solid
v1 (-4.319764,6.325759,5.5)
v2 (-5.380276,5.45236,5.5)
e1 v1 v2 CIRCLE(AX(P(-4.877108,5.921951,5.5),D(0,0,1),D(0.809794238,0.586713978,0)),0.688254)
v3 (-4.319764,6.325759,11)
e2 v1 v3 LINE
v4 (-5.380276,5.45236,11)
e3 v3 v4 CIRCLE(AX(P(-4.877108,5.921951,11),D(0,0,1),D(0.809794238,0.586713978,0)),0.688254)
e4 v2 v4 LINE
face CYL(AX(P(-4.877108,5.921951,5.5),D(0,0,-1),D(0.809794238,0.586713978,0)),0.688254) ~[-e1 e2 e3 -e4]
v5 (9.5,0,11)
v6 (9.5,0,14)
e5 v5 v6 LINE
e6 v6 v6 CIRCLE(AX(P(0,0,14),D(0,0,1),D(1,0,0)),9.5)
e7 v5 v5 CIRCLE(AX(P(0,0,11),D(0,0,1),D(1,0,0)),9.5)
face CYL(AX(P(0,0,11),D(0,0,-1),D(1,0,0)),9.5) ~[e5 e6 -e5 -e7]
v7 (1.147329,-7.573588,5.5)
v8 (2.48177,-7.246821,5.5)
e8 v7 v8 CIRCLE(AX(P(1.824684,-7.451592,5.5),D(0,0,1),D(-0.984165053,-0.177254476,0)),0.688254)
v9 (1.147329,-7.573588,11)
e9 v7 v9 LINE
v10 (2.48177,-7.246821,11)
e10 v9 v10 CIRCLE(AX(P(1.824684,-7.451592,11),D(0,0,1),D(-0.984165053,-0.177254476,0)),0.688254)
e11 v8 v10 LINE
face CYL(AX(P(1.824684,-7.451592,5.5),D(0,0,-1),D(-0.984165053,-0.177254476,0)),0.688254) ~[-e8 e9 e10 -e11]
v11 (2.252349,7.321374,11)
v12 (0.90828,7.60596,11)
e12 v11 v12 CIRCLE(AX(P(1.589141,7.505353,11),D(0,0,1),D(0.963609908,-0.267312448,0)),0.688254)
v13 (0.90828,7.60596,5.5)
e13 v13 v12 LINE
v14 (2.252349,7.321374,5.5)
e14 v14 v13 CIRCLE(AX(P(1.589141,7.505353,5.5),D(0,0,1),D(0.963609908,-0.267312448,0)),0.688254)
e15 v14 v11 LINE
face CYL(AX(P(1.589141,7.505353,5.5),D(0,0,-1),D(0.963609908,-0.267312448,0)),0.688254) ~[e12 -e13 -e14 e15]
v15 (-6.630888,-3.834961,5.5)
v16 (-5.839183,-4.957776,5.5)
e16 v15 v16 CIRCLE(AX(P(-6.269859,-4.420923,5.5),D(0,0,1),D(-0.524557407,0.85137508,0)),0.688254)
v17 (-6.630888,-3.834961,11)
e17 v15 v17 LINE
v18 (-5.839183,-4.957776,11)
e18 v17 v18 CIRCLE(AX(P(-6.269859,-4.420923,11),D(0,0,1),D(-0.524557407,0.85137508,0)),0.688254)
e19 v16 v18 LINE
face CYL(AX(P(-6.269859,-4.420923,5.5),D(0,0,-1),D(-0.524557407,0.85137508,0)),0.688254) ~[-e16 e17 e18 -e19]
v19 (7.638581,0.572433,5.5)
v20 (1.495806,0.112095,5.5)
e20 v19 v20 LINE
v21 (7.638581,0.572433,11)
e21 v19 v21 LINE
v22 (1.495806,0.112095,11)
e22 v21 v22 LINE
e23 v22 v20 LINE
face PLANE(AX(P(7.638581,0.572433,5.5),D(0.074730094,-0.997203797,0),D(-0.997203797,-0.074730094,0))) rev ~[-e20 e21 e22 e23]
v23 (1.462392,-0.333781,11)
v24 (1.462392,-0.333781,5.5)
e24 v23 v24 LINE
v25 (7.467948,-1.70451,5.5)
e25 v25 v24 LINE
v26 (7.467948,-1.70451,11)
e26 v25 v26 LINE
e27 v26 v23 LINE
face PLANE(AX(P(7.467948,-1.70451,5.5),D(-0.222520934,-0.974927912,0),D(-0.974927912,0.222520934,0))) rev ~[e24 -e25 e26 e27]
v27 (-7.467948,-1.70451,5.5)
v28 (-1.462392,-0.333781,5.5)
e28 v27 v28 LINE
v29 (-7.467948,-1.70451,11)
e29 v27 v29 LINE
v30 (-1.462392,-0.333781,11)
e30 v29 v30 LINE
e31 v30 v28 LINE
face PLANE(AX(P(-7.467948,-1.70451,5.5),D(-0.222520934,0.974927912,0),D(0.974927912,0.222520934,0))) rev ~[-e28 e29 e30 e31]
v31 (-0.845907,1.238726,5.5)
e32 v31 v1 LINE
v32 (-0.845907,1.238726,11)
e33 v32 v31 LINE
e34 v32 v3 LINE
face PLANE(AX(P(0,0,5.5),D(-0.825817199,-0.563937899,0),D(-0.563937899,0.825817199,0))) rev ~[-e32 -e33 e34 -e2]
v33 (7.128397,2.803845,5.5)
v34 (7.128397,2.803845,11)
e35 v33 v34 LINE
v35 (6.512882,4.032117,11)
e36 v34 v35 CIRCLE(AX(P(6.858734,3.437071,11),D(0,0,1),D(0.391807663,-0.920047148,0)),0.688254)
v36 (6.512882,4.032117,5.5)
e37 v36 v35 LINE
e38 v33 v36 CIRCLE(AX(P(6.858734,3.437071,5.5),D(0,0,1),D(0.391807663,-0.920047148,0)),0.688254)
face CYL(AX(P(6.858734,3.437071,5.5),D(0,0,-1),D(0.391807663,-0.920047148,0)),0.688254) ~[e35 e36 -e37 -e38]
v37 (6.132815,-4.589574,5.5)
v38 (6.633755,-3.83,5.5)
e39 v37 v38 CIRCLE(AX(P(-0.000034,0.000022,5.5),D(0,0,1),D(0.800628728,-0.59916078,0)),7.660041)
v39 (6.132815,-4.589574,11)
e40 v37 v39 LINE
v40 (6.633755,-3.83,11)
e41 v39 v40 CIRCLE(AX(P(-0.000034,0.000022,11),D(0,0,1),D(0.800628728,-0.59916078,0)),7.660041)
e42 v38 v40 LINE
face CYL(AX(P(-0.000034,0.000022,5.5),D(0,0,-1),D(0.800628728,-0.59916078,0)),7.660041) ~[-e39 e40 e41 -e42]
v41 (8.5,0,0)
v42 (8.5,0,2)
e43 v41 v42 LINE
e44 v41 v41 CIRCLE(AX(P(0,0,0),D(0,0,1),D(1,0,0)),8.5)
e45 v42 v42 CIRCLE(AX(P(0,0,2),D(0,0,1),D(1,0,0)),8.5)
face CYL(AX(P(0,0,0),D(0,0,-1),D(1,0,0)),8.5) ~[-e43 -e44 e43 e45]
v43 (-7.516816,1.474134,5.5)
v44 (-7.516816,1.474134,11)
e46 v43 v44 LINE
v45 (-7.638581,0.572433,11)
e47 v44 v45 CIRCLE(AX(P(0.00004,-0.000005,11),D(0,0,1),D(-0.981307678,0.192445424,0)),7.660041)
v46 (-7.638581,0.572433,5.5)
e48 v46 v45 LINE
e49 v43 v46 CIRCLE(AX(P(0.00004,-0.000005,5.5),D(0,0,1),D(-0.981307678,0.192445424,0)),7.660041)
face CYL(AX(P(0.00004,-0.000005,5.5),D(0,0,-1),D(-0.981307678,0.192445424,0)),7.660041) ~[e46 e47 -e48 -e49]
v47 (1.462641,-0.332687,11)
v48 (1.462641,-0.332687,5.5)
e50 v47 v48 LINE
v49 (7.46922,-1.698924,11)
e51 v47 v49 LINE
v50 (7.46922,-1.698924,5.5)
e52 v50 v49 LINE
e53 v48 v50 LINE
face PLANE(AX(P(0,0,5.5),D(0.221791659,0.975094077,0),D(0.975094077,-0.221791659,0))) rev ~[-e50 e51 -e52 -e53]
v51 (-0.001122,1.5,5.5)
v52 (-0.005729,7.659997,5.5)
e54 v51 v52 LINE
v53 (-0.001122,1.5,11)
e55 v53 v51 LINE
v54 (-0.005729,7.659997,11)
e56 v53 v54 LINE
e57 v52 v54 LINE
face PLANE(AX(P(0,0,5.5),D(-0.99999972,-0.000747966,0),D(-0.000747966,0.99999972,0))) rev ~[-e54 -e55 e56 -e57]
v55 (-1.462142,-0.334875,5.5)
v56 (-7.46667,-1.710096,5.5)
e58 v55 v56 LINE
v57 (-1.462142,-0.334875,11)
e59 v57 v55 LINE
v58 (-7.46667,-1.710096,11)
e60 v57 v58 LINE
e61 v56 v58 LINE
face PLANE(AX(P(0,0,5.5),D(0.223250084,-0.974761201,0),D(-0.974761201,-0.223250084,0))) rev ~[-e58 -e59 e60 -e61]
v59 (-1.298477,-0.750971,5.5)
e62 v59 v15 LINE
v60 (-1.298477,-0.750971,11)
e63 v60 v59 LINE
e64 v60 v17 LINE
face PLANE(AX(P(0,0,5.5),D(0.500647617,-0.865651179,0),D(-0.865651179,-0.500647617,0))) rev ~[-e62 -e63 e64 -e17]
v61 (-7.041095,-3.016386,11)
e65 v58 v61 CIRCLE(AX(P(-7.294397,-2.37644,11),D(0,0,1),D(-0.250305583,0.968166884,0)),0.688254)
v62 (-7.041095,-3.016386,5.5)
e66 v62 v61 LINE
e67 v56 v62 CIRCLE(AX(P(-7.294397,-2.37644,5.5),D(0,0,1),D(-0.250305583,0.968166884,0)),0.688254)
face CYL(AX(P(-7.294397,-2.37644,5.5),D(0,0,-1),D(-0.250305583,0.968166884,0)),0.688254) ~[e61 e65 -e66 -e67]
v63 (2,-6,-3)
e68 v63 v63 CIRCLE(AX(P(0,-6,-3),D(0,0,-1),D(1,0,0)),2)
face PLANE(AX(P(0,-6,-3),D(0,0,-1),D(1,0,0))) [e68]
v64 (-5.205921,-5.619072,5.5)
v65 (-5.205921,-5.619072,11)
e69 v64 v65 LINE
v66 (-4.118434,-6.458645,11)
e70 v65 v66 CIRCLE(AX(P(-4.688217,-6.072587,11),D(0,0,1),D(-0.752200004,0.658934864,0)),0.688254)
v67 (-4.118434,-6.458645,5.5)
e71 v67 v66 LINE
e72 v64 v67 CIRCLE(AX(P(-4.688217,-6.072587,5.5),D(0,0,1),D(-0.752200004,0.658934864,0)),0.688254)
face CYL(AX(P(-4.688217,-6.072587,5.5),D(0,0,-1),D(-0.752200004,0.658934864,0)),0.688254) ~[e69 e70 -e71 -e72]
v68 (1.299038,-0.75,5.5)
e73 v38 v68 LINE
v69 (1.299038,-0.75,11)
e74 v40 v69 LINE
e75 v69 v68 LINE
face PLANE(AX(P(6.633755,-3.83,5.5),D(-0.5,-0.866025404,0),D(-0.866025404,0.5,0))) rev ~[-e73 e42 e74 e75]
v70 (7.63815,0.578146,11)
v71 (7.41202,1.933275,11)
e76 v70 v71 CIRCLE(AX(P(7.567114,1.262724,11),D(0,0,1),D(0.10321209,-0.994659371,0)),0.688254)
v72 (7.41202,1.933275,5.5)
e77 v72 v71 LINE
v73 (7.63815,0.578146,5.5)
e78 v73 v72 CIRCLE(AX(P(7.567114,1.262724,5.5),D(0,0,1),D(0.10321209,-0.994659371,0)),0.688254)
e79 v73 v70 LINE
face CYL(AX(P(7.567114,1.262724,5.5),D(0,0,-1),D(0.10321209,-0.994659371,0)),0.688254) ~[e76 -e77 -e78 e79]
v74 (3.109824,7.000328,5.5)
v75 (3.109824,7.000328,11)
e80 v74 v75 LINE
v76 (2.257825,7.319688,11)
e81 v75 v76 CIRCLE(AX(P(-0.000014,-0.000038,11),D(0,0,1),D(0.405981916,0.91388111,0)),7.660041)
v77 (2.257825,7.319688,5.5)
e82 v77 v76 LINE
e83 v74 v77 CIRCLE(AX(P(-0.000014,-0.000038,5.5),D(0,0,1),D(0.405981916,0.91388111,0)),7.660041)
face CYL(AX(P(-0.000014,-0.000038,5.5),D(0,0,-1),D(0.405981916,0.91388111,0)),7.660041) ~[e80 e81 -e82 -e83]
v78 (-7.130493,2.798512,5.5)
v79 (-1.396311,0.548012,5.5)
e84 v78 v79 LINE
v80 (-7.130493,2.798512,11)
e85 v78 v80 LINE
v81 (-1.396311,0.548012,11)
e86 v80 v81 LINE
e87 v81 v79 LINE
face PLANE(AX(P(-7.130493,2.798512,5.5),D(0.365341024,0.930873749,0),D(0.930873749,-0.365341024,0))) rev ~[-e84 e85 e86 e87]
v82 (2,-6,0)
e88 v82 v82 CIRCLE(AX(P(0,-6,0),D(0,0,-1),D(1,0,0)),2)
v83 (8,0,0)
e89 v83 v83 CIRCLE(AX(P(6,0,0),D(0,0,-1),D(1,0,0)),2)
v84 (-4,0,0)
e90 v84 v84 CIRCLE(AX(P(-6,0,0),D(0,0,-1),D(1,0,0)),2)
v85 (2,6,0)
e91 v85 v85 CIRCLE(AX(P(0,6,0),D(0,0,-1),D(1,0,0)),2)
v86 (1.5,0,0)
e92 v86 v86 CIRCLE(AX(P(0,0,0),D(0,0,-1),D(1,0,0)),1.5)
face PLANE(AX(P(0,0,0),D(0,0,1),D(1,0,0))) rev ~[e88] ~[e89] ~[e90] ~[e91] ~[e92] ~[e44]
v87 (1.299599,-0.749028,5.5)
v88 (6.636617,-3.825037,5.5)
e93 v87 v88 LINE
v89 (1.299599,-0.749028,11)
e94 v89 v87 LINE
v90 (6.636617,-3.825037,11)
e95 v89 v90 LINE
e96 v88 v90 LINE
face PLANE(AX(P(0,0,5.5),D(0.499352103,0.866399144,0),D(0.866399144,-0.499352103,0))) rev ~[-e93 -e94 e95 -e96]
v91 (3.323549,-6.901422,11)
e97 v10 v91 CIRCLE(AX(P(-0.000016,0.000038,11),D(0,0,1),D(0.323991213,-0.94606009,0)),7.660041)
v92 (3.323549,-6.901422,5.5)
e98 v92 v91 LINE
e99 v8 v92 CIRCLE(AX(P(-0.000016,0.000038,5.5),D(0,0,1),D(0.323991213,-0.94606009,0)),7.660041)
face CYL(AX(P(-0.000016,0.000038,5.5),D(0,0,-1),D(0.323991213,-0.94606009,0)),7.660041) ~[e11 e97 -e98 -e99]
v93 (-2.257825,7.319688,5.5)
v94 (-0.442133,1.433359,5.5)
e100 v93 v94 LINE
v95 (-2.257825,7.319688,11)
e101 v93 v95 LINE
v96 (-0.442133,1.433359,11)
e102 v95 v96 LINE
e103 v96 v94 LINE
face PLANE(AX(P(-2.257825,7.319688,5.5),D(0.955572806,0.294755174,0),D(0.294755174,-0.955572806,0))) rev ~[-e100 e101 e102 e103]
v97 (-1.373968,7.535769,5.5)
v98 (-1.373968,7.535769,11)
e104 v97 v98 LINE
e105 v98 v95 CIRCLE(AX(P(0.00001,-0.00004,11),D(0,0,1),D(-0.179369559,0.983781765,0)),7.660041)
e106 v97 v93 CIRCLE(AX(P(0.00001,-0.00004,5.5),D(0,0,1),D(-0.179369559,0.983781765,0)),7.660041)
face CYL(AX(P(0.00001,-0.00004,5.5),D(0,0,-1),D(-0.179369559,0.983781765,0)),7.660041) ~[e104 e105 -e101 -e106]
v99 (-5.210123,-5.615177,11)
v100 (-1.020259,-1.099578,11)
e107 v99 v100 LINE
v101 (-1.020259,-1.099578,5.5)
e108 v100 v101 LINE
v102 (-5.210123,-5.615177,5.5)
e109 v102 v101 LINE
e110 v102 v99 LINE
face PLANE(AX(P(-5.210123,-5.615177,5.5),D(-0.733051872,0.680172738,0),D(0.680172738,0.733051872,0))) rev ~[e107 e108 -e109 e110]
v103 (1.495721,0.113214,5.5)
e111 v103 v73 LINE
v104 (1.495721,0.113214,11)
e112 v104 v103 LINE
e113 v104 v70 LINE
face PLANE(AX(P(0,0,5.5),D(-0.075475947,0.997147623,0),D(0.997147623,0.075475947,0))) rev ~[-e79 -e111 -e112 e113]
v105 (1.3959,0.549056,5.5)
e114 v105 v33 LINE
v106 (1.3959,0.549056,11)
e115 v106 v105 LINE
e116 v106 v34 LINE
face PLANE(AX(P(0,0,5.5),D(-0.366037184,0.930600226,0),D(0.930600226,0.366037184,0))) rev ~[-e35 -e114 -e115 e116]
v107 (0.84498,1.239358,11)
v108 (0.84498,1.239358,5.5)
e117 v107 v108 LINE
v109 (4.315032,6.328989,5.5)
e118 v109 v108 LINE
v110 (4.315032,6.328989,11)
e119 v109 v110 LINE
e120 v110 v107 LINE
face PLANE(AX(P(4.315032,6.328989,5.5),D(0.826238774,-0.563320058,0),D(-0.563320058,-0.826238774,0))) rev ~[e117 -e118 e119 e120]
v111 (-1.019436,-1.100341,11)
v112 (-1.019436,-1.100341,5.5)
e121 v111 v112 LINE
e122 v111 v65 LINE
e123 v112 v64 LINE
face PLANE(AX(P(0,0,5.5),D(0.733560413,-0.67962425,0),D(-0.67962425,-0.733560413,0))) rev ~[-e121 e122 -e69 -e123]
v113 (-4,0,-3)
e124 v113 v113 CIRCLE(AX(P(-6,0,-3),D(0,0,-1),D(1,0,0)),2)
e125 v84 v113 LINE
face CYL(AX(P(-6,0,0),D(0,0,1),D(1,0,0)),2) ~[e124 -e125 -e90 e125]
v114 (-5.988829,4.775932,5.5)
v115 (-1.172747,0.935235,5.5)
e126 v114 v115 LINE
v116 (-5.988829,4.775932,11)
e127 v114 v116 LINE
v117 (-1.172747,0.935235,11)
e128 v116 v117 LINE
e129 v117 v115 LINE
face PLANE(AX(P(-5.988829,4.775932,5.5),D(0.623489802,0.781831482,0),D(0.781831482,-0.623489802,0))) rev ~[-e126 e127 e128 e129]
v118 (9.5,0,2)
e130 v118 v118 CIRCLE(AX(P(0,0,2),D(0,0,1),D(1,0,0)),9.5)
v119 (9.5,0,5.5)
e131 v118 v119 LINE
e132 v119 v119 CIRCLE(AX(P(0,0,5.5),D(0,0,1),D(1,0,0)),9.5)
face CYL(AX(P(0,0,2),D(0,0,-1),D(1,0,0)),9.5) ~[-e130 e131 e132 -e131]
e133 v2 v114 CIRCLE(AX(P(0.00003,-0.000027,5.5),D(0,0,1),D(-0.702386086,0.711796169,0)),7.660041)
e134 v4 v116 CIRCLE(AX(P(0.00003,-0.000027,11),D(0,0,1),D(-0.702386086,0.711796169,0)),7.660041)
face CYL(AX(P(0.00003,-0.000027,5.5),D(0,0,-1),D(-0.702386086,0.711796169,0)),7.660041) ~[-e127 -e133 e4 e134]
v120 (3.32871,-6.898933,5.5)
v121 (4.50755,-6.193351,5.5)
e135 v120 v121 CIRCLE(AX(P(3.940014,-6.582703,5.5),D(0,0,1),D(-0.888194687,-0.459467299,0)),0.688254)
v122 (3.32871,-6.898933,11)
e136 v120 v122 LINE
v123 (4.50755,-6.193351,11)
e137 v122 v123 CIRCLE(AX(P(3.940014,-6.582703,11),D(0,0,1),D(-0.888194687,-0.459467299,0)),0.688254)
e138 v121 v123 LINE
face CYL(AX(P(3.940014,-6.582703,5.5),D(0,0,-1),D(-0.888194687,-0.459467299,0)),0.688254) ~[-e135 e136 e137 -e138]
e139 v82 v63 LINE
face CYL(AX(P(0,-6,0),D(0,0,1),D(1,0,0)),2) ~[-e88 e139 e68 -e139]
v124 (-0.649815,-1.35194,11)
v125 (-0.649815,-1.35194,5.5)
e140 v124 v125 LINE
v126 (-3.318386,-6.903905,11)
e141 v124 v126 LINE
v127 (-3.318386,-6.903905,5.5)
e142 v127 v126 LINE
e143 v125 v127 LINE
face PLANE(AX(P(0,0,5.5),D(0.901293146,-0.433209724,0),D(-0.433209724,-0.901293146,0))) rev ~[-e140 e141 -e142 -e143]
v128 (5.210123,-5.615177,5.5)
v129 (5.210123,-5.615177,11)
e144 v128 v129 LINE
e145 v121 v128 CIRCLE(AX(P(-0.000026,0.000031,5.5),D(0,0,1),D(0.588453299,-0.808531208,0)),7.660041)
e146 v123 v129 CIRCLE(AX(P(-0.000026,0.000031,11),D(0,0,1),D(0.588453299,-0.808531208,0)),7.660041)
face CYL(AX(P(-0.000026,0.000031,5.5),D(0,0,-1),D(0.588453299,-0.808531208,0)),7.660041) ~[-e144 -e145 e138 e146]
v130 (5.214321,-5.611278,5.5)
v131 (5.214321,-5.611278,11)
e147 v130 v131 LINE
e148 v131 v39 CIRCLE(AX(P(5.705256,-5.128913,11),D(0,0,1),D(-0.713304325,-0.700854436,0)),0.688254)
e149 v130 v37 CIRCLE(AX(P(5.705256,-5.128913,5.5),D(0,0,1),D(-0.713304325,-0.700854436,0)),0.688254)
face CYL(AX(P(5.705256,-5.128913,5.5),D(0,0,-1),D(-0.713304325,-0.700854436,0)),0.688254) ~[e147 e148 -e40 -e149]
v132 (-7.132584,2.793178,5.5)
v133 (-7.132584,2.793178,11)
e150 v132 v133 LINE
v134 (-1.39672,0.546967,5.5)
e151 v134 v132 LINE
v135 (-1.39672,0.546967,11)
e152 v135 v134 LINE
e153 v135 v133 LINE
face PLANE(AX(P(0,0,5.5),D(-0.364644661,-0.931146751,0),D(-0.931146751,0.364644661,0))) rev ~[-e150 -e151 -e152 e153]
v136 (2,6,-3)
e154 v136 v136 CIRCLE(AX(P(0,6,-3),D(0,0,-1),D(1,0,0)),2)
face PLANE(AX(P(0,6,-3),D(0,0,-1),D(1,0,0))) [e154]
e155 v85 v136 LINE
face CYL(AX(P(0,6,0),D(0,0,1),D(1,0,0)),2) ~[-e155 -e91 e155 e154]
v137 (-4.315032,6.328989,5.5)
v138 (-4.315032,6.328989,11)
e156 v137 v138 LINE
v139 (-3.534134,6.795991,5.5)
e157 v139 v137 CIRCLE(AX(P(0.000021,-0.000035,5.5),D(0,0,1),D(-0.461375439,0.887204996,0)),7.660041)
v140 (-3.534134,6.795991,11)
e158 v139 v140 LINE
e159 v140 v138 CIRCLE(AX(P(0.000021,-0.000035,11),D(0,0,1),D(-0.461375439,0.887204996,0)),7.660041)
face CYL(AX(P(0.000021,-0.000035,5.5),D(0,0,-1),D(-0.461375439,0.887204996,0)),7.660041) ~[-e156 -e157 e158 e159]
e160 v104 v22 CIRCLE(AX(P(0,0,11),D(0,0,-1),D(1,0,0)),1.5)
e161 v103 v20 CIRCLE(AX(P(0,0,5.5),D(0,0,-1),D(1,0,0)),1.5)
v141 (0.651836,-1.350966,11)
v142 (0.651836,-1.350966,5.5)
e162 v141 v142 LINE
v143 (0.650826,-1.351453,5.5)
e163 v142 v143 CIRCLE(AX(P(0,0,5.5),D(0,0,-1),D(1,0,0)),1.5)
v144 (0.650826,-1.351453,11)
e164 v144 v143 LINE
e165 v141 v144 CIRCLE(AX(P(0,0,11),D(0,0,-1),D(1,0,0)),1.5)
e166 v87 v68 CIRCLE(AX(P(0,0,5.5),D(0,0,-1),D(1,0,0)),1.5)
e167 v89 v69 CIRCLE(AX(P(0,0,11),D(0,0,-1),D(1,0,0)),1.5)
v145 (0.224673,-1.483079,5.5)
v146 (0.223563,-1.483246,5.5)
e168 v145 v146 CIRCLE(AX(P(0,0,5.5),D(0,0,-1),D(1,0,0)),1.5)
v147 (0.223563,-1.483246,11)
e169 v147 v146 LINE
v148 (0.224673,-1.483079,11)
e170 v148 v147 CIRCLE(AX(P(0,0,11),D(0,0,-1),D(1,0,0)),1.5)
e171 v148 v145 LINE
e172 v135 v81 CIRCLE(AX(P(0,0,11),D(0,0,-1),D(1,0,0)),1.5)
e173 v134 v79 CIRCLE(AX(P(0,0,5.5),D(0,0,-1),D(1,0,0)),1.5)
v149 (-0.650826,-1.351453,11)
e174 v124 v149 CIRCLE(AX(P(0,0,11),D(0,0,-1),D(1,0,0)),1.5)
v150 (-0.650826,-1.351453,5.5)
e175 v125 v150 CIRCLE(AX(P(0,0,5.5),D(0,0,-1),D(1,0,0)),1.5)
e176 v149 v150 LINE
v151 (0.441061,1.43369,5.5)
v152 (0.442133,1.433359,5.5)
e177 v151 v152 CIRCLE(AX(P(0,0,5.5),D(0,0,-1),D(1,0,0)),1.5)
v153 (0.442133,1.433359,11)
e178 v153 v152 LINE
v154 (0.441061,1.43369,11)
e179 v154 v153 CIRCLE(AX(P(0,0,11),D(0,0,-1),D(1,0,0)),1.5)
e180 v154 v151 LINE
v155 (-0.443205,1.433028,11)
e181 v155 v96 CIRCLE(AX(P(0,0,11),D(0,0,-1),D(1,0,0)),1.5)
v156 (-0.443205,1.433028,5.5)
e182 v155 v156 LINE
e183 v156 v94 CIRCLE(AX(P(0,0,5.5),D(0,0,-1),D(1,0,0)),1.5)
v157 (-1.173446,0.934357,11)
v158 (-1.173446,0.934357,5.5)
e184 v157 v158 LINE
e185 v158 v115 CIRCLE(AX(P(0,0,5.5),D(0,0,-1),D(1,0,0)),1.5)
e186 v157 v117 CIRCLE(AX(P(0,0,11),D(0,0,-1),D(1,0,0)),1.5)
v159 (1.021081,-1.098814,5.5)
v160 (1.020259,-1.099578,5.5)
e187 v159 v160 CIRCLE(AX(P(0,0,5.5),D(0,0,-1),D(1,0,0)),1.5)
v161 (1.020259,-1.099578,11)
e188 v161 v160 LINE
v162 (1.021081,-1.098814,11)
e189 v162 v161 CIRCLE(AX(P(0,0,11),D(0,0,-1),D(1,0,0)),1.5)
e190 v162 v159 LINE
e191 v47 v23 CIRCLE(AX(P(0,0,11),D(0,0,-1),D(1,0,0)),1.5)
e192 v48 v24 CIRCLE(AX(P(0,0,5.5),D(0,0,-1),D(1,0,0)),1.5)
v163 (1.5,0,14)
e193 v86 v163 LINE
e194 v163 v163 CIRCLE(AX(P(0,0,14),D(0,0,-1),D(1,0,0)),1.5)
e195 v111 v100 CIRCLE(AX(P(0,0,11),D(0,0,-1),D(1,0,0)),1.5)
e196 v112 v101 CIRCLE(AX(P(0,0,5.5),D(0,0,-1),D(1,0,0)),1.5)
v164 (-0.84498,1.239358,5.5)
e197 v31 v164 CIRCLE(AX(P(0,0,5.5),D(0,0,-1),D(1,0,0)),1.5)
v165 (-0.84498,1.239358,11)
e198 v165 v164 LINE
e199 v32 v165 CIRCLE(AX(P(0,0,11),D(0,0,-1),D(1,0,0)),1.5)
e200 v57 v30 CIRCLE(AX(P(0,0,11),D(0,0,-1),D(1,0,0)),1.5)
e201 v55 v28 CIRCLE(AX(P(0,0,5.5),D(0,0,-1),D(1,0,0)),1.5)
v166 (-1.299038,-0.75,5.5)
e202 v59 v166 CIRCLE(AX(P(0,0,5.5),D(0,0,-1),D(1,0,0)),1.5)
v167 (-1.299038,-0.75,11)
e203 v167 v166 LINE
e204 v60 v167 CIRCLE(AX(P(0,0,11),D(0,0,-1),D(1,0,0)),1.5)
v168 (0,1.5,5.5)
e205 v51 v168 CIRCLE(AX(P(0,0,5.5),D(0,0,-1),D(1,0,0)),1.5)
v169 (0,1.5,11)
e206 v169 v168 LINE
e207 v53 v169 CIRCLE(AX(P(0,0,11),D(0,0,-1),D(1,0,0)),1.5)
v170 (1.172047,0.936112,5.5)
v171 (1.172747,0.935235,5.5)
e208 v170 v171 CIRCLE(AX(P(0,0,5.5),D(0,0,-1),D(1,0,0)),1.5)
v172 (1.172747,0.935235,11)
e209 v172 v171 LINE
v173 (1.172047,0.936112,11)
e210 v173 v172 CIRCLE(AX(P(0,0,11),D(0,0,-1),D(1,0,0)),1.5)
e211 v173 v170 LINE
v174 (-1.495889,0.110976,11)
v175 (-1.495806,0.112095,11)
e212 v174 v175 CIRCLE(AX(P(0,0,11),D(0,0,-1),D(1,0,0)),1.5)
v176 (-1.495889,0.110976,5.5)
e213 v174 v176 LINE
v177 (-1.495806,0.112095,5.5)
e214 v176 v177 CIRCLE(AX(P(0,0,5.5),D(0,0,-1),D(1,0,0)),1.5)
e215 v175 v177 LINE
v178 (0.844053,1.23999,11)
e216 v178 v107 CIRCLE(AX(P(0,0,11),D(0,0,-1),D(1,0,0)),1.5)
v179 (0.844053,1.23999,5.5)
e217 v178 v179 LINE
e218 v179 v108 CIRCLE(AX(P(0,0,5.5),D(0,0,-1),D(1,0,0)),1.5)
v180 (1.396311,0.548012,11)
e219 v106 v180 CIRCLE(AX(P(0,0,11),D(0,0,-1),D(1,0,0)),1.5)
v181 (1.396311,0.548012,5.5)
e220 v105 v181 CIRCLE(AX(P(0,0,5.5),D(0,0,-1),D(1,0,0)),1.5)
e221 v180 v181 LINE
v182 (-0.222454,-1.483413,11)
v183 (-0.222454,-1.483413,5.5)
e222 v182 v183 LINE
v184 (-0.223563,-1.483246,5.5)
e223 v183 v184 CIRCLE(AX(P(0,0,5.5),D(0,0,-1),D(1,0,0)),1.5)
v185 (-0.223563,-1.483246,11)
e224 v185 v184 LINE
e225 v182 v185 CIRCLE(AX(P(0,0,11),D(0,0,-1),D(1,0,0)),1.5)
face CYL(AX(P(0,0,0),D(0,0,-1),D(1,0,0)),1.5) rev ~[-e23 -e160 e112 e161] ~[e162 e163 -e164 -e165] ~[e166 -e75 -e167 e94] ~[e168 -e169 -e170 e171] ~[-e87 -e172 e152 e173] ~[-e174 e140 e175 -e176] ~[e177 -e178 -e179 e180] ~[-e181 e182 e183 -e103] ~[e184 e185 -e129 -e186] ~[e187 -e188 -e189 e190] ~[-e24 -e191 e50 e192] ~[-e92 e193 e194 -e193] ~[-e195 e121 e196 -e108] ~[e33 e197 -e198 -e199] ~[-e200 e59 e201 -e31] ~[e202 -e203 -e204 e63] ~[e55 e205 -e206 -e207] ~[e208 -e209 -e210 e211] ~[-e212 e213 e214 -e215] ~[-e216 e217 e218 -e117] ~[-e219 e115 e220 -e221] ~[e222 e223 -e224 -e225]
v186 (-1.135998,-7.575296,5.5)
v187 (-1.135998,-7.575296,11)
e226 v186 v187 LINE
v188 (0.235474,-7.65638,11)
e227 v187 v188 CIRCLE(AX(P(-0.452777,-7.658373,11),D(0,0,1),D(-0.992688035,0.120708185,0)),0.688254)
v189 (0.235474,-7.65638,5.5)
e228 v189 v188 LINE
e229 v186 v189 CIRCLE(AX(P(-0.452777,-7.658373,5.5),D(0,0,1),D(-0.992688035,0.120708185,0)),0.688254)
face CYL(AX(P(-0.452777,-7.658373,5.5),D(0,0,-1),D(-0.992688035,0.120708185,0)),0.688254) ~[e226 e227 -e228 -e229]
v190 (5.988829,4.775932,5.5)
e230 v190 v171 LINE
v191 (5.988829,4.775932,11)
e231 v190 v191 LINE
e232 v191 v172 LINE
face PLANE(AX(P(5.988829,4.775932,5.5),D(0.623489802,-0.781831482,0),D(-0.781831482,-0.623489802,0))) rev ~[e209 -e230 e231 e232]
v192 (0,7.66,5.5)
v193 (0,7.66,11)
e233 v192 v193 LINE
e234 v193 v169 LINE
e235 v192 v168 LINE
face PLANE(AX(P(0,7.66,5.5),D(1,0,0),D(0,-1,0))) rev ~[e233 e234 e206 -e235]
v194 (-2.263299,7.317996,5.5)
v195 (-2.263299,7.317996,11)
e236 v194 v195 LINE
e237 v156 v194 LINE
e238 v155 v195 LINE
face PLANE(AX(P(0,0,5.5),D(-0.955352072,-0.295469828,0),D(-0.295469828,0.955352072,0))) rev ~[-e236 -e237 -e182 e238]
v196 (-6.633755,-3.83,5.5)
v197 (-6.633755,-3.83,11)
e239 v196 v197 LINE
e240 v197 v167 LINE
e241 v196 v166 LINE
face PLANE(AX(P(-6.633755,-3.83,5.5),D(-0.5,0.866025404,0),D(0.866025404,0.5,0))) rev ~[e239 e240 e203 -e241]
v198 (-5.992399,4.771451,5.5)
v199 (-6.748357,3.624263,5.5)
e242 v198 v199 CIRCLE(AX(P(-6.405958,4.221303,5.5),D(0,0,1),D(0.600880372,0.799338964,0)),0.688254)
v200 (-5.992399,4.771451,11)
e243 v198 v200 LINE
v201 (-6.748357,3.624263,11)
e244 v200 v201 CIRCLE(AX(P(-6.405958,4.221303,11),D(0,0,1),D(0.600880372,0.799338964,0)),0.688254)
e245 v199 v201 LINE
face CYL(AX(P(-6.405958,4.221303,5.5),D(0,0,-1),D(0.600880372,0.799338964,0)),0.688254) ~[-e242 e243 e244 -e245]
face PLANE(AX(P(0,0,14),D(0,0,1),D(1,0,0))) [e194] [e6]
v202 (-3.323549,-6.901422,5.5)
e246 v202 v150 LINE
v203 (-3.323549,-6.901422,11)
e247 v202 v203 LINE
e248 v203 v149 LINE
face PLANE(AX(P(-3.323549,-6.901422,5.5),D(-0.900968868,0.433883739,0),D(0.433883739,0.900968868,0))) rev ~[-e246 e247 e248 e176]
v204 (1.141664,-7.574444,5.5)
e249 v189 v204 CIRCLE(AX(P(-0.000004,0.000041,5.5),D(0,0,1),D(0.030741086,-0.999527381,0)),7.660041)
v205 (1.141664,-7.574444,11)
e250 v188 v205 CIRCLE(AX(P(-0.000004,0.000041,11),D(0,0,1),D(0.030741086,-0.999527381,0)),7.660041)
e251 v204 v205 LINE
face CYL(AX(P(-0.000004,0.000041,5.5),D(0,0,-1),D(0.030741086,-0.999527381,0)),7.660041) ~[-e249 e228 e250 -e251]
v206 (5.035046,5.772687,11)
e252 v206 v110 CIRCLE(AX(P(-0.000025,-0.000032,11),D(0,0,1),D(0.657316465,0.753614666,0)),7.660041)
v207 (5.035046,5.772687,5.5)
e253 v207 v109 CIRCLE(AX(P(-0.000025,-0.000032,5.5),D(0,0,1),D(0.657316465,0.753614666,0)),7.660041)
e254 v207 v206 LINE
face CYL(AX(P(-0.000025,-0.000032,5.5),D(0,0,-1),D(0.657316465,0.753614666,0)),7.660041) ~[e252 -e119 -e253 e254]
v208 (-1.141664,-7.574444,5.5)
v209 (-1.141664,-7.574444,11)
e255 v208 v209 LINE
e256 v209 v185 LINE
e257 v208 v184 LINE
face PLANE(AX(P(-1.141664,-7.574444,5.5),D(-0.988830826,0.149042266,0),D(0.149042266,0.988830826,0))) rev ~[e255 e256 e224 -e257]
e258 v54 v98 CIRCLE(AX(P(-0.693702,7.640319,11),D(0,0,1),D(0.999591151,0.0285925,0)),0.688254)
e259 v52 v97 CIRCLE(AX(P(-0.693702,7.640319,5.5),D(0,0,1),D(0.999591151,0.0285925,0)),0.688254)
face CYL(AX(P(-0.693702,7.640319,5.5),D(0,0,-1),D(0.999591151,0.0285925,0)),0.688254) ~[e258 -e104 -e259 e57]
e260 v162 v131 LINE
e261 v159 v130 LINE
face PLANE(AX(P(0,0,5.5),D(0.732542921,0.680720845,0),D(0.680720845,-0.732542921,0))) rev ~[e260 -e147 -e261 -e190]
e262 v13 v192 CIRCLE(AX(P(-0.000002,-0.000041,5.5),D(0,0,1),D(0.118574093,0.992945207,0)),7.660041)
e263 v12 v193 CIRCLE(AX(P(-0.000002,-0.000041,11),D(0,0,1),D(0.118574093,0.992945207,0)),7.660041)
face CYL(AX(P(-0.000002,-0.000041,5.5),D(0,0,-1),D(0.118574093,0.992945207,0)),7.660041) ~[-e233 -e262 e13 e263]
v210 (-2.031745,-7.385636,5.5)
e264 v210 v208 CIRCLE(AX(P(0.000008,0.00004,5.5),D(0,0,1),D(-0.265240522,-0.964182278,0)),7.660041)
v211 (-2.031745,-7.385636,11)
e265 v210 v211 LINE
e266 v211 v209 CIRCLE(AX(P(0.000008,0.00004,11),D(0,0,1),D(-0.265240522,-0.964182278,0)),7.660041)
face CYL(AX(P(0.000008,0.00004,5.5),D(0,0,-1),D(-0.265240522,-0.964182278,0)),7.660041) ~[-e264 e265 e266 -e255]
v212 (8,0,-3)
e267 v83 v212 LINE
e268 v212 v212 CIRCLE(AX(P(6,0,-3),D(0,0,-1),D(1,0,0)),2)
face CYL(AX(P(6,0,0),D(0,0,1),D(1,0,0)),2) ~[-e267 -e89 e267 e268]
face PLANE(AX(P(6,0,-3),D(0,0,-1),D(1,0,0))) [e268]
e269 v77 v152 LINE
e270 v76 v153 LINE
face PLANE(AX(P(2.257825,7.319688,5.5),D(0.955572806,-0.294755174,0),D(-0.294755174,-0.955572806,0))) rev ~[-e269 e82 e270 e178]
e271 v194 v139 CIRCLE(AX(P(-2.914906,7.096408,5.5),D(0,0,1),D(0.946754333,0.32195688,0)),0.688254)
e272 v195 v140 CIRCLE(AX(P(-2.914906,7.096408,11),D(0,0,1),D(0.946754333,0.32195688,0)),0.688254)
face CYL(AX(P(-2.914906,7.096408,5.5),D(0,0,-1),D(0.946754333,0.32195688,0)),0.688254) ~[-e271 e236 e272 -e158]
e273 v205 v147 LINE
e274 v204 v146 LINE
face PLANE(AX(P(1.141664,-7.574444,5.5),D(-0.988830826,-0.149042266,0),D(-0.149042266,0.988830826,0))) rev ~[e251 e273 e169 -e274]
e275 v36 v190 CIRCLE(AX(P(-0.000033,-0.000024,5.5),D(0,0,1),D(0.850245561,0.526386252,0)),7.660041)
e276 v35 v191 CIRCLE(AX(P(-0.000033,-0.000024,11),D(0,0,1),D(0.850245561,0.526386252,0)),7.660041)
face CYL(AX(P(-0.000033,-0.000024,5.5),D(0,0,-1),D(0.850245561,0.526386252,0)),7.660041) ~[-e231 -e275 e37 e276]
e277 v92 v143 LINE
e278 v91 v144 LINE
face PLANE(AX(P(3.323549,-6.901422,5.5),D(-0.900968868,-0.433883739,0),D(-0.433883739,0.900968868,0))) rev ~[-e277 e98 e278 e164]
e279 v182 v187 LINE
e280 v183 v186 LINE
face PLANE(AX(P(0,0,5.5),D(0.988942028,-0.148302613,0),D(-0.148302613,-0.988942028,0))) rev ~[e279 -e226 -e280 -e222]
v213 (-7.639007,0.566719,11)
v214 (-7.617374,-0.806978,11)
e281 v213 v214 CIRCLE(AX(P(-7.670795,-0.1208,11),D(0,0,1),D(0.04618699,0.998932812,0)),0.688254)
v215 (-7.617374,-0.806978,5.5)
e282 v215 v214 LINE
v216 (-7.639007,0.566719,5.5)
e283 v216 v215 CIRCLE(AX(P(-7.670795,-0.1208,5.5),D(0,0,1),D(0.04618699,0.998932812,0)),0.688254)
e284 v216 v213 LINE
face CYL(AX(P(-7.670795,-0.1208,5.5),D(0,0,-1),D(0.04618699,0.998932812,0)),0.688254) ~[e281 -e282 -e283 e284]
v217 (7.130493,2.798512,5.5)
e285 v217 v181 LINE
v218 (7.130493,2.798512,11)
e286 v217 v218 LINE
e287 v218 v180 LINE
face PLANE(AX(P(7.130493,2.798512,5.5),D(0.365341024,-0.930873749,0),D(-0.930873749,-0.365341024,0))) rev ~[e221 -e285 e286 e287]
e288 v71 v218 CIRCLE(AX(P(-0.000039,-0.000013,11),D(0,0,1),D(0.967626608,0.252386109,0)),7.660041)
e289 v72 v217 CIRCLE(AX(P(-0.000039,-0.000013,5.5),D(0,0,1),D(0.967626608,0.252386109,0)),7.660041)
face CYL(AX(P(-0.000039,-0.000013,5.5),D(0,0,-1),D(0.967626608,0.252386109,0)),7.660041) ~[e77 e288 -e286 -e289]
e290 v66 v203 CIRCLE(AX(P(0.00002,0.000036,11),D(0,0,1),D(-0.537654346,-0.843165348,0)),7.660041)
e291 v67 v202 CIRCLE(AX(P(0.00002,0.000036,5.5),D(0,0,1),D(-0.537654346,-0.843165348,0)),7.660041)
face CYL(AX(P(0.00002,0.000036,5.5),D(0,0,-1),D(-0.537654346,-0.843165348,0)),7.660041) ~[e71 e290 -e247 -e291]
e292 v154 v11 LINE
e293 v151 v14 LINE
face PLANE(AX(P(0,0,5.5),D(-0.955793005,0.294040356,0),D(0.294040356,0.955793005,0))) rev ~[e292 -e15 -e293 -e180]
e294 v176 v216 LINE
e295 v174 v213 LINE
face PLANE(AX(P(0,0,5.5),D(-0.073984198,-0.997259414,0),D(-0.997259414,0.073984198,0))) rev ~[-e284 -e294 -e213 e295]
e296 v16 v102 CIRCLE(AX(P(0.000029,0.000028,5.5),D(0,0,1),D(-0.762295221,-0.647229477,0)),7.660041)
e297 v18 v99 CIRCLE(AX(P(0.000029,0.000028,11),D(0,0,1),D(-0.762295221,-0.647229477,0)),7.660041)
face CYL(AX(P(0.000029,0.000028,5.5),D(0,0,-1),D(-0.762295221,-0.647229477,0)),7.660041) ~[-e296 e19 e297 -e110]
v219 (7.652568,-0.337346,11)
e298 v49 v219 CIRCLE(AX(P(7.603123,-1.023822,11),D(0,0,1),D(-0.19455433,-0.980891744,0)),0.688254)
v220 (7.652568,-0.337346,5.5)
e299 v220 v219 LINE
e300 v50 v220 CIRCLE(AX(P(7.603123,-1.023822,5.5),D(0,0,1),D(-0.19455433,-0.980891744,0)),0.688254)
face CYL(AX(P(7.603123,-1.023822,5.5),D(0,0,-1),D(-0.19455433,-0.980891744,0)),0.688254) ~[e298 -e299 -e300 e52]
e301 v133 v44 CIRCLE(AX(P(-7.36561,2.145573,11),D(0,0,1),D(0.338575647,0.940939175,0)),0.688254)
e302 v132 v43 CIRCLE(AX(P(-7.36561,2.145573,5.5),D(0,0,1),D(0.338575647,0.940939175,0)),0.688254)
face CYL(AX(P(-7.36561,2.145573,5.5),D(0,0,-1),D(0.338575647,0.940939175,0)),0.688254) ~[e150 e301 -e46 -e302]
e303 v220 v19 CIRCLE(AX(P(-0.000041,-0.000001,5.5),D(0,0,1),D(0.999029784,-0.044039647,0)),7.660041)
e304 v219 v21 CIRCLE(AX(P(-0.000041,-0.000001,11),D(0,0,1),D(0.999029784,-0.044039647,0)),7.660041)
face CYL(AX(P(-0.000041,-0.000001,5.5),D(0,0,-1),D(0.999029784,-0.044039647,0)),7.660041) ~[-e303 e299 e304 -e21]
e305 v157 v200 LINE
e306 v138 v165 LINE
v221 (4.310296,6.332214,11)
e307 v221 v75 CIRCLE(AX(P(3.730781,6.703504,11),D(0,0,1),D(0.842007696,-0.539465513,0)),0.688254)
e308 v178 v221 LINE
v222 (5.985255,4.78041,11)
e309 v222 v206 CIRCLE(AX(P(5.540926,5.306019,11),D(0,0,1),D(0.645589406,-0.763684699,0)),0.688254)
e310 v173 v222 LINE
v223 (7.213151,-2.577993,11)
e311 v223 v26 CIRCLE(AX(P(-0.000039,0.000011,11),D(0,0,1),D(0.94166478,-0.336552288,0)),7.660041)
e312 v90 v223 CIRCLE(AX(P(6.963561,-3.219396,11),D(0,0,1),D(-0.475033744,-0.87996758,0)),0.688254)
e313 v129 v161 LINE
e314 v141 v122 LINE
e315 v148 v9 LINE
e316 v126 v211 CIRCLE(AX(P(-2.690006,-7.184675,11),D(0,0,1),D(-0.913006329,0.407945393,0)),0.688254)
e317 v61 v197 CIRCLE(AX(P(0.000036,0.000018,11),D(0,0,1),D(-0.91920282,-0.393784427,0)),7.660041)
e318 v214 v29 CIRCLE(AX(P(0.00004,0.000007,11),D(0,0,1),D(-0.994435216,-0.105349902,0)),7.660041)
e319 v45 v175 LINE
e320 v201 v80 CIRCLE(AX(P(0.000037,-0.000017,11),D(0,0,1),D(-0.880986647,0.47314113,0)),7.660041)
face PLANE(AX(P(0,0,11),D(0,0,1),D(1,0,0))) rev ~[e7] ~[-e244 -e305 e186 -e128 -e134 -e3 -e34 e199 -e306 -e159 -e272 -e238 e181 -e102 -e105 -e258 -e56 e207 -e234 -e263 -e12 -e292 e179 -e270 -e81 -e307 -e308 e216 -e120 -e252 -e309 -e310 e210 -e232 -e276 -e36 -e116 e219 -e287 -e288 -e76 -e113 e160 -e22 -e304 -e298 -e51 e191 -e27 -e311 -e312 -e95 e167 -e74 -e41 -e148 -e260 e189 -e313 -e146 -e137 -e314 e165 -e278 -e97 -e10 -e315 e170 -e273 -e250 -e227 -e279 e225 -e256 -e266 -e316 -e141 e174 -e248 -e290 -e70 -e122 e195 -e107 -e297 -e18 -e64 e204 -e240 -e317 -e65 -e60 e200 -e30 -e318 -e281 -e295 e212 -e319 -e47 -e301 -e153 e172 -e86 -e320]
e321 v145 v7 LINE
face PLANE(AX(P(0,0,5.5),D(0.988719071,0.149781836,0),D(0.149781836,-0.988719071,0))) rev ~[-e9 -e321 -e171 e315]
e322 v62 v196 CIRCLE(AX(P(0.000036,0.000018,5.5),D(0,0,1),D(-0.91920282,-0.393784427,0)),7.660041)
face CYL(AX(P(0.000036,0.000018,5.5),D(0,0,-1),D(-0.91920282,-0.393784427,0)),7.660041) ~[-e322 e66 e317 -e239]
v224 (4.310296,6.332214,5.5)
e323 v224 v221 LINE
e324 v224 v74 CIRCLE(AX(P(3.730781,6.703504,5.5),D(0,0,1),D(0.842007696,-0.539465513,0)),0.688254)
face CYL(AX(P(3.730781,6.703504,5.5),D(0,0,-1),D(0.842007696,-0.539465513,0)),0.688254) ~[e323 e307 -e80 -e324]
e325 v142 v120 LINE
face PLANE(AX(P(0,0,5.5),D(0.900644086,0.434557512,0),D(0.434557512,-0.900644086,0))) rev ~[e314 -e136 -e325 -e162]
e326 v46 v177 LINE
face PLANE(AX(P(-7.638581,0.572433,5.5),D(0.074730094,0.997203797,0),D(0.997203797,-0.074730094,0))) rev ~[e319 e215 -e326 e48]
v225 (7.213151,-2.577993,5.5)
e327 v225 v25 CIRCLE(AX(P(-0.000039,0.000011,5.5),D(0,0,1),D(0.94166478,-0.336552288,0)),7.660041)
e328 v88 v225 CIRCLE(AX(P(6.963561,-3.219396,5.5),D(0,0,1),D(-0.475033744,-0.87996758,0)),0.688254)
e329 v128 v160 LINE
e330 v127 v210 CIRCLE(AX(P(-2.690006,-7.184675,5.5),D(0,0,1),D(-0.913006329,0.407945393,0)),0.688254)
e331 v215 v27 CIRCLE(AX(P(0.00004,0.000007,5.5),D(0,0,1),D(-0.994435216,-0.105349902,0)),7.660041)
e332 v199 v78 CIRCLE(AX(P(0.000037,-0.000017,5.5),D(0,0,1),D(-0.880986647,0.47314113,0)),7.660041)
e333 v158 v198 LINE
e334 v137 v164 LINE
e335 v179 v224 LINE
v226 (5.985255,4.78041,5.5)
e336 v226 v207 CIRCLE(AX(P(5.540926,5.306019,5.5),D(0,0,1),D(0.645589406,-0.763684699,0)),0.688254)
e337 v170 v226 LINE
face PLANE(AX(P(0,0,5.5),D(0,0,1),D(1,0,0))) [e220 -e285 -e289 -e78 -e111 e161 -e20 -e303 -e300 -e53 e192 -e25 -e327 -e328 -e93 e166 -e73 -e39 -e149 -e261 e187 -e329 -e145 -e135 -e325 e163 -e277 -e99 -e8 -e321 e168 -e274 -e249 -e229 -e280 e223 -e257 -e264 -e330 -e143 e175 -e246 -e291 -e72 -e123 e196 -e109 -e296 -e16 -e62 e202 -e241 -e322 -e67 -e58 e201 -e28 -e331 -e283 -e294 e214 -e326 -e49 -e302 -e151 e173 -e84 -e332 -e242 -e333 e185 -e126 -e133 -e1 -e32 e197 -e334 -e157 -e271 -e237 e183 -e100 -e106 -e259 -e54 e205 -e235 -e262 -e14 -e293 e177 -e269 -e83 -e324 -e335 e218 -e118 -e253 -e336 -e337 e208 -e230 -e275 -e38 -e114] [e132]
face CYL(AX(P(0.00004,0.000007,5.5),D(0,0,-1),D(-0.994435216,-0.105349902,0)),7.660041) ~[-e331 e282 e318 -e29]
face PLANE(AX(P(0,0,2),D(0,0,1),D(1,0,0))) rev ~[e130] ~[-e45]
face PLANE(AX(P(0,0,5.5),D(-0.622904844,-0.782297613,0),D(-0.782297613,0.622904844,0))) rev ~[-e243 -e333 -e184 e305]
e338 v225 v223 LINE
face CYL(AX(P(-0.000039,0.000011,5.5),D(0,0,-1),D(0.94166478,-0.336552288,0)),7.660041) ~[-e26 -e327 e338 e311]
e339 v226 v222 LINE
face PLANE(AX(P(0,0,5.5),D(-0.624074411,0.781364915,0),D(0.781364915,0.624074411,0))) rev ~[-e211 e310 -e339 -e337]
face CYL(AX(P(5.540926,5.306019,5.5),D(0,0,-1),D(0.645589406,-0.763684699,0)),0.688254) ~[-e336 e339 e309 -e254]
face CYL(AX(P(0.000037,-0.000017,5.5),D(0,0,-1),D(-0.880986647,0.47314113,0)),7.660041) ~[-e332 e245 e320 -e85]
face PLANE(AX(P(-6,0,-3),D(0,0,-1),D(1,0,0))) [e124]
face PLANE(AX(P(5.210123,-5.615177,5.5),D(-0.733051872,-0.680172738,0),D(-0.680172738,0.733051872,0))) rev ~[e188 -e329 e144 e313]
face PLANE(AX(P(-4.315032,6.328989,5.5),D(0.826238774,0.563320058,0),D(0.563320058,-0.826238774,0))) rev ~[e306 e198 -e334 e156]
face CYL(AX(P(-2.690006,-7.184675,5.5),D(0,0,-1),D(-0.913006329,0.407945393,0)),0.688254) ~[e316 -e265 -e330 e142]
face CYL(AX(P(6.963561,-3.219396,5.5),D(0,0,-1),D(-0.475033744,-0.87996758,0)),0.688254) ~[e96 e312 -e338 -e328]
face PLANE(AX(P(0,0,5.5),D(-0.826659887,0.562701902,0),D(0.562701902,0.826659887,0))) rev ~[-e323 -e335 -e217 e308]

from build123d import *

# Parameters (mm, degrees)
SKETCH_R           = 8.5
PAD_DEPTH          = 2
SKETCH001_R        = 2
PAD001_DEPTH       = 3
SKETCH002_R        = 9.5
PAD002_DEPTH       = 3.5
PAD003_DEPTH       = 5.5
POLARPATTERN_COUNT = 21
SKETCH005_R        = 9.5
PAD004_DEPTH       = 3
SKETCH006_R        = 1.5
POCKET_DEPTH       = 14.001


with BuildPart() as part:
    # Sketch → Pad (new body)
    with BuildSketch(Plane.XY):
        Circle(SKETCH_R)
    extrude(amount=PAD_DEPTH)

    # Sketch001 → Pad001 (new body)
    with BuildSketch(Plane(origin=(0, 0, 0), x_dir=(1, 0, 0), z_dir=(0, 0, -1))):
        with Locations((0, 6)):
            Circle(SKETCH001_R)
        with Locations((6, 0)):
            Circle(SKETCH001_R)
        with Locations((0, -6)):
            Circle(SKETCH001_R)
        with Locations((-6, 0)):
            Circle(SKETCH001_R)
    extrude(amount=PAD001_DEPTH)

    # Sketch002 → Pad002 (new body)
    with BuildSketch(Plane.XY.offset(2)):
        Circle(SKETCH002_R)
    extrude(amount=PAD002_DEPTH)

    # Sketch004 → Pad003 (new body)
    with BuildSketch(Plane.XY.offset(5.5)):
        with BuildLine():
            ThreePointArc((2.252349, 7.321374), (1.731707, 8.178679), (0.90828, 7.60596))
            ThreePointArc((0.90828, 7.60596), (0.454943, 7.646478), (0, 7.66))
            Line((0, 7.66), (0, 0))
            Line((0, 0), (2.252349, 7.321374))
        make_face()
    pad003 = extrude(amount=PAD003_DEPTH)

    # PolarPattern: Pad003 ×21 about axis
    polarpattern_axis = Axis((0, 0, 5.5), (0, 0, 1))
    for i in range(1, POLARPATTERN_COUNT):
        add(pad003.rotate(polarpattern_axis, i * 360 / POLARPATTERN_COUNT))

    # Sketch005 → Pad004 (new body)
    with BuildSketch(Plane.XY.offset(11)):
        Circle(SKETCH005_R)
    extrude(amount=PAD004_DEPTH)

    # Sketch006 → Pocket (cut, through all)
    with BuildSketch(Plane(origin=(0, 0, 0), x_dir=(1, 0, 0), z_dir=(0, 0, -1))):
        Circle(SKETCH006_R)
    extrude(amount=-POCKET_DEPTH, mode=Mode.SUBTRACT)


solid = part.part
